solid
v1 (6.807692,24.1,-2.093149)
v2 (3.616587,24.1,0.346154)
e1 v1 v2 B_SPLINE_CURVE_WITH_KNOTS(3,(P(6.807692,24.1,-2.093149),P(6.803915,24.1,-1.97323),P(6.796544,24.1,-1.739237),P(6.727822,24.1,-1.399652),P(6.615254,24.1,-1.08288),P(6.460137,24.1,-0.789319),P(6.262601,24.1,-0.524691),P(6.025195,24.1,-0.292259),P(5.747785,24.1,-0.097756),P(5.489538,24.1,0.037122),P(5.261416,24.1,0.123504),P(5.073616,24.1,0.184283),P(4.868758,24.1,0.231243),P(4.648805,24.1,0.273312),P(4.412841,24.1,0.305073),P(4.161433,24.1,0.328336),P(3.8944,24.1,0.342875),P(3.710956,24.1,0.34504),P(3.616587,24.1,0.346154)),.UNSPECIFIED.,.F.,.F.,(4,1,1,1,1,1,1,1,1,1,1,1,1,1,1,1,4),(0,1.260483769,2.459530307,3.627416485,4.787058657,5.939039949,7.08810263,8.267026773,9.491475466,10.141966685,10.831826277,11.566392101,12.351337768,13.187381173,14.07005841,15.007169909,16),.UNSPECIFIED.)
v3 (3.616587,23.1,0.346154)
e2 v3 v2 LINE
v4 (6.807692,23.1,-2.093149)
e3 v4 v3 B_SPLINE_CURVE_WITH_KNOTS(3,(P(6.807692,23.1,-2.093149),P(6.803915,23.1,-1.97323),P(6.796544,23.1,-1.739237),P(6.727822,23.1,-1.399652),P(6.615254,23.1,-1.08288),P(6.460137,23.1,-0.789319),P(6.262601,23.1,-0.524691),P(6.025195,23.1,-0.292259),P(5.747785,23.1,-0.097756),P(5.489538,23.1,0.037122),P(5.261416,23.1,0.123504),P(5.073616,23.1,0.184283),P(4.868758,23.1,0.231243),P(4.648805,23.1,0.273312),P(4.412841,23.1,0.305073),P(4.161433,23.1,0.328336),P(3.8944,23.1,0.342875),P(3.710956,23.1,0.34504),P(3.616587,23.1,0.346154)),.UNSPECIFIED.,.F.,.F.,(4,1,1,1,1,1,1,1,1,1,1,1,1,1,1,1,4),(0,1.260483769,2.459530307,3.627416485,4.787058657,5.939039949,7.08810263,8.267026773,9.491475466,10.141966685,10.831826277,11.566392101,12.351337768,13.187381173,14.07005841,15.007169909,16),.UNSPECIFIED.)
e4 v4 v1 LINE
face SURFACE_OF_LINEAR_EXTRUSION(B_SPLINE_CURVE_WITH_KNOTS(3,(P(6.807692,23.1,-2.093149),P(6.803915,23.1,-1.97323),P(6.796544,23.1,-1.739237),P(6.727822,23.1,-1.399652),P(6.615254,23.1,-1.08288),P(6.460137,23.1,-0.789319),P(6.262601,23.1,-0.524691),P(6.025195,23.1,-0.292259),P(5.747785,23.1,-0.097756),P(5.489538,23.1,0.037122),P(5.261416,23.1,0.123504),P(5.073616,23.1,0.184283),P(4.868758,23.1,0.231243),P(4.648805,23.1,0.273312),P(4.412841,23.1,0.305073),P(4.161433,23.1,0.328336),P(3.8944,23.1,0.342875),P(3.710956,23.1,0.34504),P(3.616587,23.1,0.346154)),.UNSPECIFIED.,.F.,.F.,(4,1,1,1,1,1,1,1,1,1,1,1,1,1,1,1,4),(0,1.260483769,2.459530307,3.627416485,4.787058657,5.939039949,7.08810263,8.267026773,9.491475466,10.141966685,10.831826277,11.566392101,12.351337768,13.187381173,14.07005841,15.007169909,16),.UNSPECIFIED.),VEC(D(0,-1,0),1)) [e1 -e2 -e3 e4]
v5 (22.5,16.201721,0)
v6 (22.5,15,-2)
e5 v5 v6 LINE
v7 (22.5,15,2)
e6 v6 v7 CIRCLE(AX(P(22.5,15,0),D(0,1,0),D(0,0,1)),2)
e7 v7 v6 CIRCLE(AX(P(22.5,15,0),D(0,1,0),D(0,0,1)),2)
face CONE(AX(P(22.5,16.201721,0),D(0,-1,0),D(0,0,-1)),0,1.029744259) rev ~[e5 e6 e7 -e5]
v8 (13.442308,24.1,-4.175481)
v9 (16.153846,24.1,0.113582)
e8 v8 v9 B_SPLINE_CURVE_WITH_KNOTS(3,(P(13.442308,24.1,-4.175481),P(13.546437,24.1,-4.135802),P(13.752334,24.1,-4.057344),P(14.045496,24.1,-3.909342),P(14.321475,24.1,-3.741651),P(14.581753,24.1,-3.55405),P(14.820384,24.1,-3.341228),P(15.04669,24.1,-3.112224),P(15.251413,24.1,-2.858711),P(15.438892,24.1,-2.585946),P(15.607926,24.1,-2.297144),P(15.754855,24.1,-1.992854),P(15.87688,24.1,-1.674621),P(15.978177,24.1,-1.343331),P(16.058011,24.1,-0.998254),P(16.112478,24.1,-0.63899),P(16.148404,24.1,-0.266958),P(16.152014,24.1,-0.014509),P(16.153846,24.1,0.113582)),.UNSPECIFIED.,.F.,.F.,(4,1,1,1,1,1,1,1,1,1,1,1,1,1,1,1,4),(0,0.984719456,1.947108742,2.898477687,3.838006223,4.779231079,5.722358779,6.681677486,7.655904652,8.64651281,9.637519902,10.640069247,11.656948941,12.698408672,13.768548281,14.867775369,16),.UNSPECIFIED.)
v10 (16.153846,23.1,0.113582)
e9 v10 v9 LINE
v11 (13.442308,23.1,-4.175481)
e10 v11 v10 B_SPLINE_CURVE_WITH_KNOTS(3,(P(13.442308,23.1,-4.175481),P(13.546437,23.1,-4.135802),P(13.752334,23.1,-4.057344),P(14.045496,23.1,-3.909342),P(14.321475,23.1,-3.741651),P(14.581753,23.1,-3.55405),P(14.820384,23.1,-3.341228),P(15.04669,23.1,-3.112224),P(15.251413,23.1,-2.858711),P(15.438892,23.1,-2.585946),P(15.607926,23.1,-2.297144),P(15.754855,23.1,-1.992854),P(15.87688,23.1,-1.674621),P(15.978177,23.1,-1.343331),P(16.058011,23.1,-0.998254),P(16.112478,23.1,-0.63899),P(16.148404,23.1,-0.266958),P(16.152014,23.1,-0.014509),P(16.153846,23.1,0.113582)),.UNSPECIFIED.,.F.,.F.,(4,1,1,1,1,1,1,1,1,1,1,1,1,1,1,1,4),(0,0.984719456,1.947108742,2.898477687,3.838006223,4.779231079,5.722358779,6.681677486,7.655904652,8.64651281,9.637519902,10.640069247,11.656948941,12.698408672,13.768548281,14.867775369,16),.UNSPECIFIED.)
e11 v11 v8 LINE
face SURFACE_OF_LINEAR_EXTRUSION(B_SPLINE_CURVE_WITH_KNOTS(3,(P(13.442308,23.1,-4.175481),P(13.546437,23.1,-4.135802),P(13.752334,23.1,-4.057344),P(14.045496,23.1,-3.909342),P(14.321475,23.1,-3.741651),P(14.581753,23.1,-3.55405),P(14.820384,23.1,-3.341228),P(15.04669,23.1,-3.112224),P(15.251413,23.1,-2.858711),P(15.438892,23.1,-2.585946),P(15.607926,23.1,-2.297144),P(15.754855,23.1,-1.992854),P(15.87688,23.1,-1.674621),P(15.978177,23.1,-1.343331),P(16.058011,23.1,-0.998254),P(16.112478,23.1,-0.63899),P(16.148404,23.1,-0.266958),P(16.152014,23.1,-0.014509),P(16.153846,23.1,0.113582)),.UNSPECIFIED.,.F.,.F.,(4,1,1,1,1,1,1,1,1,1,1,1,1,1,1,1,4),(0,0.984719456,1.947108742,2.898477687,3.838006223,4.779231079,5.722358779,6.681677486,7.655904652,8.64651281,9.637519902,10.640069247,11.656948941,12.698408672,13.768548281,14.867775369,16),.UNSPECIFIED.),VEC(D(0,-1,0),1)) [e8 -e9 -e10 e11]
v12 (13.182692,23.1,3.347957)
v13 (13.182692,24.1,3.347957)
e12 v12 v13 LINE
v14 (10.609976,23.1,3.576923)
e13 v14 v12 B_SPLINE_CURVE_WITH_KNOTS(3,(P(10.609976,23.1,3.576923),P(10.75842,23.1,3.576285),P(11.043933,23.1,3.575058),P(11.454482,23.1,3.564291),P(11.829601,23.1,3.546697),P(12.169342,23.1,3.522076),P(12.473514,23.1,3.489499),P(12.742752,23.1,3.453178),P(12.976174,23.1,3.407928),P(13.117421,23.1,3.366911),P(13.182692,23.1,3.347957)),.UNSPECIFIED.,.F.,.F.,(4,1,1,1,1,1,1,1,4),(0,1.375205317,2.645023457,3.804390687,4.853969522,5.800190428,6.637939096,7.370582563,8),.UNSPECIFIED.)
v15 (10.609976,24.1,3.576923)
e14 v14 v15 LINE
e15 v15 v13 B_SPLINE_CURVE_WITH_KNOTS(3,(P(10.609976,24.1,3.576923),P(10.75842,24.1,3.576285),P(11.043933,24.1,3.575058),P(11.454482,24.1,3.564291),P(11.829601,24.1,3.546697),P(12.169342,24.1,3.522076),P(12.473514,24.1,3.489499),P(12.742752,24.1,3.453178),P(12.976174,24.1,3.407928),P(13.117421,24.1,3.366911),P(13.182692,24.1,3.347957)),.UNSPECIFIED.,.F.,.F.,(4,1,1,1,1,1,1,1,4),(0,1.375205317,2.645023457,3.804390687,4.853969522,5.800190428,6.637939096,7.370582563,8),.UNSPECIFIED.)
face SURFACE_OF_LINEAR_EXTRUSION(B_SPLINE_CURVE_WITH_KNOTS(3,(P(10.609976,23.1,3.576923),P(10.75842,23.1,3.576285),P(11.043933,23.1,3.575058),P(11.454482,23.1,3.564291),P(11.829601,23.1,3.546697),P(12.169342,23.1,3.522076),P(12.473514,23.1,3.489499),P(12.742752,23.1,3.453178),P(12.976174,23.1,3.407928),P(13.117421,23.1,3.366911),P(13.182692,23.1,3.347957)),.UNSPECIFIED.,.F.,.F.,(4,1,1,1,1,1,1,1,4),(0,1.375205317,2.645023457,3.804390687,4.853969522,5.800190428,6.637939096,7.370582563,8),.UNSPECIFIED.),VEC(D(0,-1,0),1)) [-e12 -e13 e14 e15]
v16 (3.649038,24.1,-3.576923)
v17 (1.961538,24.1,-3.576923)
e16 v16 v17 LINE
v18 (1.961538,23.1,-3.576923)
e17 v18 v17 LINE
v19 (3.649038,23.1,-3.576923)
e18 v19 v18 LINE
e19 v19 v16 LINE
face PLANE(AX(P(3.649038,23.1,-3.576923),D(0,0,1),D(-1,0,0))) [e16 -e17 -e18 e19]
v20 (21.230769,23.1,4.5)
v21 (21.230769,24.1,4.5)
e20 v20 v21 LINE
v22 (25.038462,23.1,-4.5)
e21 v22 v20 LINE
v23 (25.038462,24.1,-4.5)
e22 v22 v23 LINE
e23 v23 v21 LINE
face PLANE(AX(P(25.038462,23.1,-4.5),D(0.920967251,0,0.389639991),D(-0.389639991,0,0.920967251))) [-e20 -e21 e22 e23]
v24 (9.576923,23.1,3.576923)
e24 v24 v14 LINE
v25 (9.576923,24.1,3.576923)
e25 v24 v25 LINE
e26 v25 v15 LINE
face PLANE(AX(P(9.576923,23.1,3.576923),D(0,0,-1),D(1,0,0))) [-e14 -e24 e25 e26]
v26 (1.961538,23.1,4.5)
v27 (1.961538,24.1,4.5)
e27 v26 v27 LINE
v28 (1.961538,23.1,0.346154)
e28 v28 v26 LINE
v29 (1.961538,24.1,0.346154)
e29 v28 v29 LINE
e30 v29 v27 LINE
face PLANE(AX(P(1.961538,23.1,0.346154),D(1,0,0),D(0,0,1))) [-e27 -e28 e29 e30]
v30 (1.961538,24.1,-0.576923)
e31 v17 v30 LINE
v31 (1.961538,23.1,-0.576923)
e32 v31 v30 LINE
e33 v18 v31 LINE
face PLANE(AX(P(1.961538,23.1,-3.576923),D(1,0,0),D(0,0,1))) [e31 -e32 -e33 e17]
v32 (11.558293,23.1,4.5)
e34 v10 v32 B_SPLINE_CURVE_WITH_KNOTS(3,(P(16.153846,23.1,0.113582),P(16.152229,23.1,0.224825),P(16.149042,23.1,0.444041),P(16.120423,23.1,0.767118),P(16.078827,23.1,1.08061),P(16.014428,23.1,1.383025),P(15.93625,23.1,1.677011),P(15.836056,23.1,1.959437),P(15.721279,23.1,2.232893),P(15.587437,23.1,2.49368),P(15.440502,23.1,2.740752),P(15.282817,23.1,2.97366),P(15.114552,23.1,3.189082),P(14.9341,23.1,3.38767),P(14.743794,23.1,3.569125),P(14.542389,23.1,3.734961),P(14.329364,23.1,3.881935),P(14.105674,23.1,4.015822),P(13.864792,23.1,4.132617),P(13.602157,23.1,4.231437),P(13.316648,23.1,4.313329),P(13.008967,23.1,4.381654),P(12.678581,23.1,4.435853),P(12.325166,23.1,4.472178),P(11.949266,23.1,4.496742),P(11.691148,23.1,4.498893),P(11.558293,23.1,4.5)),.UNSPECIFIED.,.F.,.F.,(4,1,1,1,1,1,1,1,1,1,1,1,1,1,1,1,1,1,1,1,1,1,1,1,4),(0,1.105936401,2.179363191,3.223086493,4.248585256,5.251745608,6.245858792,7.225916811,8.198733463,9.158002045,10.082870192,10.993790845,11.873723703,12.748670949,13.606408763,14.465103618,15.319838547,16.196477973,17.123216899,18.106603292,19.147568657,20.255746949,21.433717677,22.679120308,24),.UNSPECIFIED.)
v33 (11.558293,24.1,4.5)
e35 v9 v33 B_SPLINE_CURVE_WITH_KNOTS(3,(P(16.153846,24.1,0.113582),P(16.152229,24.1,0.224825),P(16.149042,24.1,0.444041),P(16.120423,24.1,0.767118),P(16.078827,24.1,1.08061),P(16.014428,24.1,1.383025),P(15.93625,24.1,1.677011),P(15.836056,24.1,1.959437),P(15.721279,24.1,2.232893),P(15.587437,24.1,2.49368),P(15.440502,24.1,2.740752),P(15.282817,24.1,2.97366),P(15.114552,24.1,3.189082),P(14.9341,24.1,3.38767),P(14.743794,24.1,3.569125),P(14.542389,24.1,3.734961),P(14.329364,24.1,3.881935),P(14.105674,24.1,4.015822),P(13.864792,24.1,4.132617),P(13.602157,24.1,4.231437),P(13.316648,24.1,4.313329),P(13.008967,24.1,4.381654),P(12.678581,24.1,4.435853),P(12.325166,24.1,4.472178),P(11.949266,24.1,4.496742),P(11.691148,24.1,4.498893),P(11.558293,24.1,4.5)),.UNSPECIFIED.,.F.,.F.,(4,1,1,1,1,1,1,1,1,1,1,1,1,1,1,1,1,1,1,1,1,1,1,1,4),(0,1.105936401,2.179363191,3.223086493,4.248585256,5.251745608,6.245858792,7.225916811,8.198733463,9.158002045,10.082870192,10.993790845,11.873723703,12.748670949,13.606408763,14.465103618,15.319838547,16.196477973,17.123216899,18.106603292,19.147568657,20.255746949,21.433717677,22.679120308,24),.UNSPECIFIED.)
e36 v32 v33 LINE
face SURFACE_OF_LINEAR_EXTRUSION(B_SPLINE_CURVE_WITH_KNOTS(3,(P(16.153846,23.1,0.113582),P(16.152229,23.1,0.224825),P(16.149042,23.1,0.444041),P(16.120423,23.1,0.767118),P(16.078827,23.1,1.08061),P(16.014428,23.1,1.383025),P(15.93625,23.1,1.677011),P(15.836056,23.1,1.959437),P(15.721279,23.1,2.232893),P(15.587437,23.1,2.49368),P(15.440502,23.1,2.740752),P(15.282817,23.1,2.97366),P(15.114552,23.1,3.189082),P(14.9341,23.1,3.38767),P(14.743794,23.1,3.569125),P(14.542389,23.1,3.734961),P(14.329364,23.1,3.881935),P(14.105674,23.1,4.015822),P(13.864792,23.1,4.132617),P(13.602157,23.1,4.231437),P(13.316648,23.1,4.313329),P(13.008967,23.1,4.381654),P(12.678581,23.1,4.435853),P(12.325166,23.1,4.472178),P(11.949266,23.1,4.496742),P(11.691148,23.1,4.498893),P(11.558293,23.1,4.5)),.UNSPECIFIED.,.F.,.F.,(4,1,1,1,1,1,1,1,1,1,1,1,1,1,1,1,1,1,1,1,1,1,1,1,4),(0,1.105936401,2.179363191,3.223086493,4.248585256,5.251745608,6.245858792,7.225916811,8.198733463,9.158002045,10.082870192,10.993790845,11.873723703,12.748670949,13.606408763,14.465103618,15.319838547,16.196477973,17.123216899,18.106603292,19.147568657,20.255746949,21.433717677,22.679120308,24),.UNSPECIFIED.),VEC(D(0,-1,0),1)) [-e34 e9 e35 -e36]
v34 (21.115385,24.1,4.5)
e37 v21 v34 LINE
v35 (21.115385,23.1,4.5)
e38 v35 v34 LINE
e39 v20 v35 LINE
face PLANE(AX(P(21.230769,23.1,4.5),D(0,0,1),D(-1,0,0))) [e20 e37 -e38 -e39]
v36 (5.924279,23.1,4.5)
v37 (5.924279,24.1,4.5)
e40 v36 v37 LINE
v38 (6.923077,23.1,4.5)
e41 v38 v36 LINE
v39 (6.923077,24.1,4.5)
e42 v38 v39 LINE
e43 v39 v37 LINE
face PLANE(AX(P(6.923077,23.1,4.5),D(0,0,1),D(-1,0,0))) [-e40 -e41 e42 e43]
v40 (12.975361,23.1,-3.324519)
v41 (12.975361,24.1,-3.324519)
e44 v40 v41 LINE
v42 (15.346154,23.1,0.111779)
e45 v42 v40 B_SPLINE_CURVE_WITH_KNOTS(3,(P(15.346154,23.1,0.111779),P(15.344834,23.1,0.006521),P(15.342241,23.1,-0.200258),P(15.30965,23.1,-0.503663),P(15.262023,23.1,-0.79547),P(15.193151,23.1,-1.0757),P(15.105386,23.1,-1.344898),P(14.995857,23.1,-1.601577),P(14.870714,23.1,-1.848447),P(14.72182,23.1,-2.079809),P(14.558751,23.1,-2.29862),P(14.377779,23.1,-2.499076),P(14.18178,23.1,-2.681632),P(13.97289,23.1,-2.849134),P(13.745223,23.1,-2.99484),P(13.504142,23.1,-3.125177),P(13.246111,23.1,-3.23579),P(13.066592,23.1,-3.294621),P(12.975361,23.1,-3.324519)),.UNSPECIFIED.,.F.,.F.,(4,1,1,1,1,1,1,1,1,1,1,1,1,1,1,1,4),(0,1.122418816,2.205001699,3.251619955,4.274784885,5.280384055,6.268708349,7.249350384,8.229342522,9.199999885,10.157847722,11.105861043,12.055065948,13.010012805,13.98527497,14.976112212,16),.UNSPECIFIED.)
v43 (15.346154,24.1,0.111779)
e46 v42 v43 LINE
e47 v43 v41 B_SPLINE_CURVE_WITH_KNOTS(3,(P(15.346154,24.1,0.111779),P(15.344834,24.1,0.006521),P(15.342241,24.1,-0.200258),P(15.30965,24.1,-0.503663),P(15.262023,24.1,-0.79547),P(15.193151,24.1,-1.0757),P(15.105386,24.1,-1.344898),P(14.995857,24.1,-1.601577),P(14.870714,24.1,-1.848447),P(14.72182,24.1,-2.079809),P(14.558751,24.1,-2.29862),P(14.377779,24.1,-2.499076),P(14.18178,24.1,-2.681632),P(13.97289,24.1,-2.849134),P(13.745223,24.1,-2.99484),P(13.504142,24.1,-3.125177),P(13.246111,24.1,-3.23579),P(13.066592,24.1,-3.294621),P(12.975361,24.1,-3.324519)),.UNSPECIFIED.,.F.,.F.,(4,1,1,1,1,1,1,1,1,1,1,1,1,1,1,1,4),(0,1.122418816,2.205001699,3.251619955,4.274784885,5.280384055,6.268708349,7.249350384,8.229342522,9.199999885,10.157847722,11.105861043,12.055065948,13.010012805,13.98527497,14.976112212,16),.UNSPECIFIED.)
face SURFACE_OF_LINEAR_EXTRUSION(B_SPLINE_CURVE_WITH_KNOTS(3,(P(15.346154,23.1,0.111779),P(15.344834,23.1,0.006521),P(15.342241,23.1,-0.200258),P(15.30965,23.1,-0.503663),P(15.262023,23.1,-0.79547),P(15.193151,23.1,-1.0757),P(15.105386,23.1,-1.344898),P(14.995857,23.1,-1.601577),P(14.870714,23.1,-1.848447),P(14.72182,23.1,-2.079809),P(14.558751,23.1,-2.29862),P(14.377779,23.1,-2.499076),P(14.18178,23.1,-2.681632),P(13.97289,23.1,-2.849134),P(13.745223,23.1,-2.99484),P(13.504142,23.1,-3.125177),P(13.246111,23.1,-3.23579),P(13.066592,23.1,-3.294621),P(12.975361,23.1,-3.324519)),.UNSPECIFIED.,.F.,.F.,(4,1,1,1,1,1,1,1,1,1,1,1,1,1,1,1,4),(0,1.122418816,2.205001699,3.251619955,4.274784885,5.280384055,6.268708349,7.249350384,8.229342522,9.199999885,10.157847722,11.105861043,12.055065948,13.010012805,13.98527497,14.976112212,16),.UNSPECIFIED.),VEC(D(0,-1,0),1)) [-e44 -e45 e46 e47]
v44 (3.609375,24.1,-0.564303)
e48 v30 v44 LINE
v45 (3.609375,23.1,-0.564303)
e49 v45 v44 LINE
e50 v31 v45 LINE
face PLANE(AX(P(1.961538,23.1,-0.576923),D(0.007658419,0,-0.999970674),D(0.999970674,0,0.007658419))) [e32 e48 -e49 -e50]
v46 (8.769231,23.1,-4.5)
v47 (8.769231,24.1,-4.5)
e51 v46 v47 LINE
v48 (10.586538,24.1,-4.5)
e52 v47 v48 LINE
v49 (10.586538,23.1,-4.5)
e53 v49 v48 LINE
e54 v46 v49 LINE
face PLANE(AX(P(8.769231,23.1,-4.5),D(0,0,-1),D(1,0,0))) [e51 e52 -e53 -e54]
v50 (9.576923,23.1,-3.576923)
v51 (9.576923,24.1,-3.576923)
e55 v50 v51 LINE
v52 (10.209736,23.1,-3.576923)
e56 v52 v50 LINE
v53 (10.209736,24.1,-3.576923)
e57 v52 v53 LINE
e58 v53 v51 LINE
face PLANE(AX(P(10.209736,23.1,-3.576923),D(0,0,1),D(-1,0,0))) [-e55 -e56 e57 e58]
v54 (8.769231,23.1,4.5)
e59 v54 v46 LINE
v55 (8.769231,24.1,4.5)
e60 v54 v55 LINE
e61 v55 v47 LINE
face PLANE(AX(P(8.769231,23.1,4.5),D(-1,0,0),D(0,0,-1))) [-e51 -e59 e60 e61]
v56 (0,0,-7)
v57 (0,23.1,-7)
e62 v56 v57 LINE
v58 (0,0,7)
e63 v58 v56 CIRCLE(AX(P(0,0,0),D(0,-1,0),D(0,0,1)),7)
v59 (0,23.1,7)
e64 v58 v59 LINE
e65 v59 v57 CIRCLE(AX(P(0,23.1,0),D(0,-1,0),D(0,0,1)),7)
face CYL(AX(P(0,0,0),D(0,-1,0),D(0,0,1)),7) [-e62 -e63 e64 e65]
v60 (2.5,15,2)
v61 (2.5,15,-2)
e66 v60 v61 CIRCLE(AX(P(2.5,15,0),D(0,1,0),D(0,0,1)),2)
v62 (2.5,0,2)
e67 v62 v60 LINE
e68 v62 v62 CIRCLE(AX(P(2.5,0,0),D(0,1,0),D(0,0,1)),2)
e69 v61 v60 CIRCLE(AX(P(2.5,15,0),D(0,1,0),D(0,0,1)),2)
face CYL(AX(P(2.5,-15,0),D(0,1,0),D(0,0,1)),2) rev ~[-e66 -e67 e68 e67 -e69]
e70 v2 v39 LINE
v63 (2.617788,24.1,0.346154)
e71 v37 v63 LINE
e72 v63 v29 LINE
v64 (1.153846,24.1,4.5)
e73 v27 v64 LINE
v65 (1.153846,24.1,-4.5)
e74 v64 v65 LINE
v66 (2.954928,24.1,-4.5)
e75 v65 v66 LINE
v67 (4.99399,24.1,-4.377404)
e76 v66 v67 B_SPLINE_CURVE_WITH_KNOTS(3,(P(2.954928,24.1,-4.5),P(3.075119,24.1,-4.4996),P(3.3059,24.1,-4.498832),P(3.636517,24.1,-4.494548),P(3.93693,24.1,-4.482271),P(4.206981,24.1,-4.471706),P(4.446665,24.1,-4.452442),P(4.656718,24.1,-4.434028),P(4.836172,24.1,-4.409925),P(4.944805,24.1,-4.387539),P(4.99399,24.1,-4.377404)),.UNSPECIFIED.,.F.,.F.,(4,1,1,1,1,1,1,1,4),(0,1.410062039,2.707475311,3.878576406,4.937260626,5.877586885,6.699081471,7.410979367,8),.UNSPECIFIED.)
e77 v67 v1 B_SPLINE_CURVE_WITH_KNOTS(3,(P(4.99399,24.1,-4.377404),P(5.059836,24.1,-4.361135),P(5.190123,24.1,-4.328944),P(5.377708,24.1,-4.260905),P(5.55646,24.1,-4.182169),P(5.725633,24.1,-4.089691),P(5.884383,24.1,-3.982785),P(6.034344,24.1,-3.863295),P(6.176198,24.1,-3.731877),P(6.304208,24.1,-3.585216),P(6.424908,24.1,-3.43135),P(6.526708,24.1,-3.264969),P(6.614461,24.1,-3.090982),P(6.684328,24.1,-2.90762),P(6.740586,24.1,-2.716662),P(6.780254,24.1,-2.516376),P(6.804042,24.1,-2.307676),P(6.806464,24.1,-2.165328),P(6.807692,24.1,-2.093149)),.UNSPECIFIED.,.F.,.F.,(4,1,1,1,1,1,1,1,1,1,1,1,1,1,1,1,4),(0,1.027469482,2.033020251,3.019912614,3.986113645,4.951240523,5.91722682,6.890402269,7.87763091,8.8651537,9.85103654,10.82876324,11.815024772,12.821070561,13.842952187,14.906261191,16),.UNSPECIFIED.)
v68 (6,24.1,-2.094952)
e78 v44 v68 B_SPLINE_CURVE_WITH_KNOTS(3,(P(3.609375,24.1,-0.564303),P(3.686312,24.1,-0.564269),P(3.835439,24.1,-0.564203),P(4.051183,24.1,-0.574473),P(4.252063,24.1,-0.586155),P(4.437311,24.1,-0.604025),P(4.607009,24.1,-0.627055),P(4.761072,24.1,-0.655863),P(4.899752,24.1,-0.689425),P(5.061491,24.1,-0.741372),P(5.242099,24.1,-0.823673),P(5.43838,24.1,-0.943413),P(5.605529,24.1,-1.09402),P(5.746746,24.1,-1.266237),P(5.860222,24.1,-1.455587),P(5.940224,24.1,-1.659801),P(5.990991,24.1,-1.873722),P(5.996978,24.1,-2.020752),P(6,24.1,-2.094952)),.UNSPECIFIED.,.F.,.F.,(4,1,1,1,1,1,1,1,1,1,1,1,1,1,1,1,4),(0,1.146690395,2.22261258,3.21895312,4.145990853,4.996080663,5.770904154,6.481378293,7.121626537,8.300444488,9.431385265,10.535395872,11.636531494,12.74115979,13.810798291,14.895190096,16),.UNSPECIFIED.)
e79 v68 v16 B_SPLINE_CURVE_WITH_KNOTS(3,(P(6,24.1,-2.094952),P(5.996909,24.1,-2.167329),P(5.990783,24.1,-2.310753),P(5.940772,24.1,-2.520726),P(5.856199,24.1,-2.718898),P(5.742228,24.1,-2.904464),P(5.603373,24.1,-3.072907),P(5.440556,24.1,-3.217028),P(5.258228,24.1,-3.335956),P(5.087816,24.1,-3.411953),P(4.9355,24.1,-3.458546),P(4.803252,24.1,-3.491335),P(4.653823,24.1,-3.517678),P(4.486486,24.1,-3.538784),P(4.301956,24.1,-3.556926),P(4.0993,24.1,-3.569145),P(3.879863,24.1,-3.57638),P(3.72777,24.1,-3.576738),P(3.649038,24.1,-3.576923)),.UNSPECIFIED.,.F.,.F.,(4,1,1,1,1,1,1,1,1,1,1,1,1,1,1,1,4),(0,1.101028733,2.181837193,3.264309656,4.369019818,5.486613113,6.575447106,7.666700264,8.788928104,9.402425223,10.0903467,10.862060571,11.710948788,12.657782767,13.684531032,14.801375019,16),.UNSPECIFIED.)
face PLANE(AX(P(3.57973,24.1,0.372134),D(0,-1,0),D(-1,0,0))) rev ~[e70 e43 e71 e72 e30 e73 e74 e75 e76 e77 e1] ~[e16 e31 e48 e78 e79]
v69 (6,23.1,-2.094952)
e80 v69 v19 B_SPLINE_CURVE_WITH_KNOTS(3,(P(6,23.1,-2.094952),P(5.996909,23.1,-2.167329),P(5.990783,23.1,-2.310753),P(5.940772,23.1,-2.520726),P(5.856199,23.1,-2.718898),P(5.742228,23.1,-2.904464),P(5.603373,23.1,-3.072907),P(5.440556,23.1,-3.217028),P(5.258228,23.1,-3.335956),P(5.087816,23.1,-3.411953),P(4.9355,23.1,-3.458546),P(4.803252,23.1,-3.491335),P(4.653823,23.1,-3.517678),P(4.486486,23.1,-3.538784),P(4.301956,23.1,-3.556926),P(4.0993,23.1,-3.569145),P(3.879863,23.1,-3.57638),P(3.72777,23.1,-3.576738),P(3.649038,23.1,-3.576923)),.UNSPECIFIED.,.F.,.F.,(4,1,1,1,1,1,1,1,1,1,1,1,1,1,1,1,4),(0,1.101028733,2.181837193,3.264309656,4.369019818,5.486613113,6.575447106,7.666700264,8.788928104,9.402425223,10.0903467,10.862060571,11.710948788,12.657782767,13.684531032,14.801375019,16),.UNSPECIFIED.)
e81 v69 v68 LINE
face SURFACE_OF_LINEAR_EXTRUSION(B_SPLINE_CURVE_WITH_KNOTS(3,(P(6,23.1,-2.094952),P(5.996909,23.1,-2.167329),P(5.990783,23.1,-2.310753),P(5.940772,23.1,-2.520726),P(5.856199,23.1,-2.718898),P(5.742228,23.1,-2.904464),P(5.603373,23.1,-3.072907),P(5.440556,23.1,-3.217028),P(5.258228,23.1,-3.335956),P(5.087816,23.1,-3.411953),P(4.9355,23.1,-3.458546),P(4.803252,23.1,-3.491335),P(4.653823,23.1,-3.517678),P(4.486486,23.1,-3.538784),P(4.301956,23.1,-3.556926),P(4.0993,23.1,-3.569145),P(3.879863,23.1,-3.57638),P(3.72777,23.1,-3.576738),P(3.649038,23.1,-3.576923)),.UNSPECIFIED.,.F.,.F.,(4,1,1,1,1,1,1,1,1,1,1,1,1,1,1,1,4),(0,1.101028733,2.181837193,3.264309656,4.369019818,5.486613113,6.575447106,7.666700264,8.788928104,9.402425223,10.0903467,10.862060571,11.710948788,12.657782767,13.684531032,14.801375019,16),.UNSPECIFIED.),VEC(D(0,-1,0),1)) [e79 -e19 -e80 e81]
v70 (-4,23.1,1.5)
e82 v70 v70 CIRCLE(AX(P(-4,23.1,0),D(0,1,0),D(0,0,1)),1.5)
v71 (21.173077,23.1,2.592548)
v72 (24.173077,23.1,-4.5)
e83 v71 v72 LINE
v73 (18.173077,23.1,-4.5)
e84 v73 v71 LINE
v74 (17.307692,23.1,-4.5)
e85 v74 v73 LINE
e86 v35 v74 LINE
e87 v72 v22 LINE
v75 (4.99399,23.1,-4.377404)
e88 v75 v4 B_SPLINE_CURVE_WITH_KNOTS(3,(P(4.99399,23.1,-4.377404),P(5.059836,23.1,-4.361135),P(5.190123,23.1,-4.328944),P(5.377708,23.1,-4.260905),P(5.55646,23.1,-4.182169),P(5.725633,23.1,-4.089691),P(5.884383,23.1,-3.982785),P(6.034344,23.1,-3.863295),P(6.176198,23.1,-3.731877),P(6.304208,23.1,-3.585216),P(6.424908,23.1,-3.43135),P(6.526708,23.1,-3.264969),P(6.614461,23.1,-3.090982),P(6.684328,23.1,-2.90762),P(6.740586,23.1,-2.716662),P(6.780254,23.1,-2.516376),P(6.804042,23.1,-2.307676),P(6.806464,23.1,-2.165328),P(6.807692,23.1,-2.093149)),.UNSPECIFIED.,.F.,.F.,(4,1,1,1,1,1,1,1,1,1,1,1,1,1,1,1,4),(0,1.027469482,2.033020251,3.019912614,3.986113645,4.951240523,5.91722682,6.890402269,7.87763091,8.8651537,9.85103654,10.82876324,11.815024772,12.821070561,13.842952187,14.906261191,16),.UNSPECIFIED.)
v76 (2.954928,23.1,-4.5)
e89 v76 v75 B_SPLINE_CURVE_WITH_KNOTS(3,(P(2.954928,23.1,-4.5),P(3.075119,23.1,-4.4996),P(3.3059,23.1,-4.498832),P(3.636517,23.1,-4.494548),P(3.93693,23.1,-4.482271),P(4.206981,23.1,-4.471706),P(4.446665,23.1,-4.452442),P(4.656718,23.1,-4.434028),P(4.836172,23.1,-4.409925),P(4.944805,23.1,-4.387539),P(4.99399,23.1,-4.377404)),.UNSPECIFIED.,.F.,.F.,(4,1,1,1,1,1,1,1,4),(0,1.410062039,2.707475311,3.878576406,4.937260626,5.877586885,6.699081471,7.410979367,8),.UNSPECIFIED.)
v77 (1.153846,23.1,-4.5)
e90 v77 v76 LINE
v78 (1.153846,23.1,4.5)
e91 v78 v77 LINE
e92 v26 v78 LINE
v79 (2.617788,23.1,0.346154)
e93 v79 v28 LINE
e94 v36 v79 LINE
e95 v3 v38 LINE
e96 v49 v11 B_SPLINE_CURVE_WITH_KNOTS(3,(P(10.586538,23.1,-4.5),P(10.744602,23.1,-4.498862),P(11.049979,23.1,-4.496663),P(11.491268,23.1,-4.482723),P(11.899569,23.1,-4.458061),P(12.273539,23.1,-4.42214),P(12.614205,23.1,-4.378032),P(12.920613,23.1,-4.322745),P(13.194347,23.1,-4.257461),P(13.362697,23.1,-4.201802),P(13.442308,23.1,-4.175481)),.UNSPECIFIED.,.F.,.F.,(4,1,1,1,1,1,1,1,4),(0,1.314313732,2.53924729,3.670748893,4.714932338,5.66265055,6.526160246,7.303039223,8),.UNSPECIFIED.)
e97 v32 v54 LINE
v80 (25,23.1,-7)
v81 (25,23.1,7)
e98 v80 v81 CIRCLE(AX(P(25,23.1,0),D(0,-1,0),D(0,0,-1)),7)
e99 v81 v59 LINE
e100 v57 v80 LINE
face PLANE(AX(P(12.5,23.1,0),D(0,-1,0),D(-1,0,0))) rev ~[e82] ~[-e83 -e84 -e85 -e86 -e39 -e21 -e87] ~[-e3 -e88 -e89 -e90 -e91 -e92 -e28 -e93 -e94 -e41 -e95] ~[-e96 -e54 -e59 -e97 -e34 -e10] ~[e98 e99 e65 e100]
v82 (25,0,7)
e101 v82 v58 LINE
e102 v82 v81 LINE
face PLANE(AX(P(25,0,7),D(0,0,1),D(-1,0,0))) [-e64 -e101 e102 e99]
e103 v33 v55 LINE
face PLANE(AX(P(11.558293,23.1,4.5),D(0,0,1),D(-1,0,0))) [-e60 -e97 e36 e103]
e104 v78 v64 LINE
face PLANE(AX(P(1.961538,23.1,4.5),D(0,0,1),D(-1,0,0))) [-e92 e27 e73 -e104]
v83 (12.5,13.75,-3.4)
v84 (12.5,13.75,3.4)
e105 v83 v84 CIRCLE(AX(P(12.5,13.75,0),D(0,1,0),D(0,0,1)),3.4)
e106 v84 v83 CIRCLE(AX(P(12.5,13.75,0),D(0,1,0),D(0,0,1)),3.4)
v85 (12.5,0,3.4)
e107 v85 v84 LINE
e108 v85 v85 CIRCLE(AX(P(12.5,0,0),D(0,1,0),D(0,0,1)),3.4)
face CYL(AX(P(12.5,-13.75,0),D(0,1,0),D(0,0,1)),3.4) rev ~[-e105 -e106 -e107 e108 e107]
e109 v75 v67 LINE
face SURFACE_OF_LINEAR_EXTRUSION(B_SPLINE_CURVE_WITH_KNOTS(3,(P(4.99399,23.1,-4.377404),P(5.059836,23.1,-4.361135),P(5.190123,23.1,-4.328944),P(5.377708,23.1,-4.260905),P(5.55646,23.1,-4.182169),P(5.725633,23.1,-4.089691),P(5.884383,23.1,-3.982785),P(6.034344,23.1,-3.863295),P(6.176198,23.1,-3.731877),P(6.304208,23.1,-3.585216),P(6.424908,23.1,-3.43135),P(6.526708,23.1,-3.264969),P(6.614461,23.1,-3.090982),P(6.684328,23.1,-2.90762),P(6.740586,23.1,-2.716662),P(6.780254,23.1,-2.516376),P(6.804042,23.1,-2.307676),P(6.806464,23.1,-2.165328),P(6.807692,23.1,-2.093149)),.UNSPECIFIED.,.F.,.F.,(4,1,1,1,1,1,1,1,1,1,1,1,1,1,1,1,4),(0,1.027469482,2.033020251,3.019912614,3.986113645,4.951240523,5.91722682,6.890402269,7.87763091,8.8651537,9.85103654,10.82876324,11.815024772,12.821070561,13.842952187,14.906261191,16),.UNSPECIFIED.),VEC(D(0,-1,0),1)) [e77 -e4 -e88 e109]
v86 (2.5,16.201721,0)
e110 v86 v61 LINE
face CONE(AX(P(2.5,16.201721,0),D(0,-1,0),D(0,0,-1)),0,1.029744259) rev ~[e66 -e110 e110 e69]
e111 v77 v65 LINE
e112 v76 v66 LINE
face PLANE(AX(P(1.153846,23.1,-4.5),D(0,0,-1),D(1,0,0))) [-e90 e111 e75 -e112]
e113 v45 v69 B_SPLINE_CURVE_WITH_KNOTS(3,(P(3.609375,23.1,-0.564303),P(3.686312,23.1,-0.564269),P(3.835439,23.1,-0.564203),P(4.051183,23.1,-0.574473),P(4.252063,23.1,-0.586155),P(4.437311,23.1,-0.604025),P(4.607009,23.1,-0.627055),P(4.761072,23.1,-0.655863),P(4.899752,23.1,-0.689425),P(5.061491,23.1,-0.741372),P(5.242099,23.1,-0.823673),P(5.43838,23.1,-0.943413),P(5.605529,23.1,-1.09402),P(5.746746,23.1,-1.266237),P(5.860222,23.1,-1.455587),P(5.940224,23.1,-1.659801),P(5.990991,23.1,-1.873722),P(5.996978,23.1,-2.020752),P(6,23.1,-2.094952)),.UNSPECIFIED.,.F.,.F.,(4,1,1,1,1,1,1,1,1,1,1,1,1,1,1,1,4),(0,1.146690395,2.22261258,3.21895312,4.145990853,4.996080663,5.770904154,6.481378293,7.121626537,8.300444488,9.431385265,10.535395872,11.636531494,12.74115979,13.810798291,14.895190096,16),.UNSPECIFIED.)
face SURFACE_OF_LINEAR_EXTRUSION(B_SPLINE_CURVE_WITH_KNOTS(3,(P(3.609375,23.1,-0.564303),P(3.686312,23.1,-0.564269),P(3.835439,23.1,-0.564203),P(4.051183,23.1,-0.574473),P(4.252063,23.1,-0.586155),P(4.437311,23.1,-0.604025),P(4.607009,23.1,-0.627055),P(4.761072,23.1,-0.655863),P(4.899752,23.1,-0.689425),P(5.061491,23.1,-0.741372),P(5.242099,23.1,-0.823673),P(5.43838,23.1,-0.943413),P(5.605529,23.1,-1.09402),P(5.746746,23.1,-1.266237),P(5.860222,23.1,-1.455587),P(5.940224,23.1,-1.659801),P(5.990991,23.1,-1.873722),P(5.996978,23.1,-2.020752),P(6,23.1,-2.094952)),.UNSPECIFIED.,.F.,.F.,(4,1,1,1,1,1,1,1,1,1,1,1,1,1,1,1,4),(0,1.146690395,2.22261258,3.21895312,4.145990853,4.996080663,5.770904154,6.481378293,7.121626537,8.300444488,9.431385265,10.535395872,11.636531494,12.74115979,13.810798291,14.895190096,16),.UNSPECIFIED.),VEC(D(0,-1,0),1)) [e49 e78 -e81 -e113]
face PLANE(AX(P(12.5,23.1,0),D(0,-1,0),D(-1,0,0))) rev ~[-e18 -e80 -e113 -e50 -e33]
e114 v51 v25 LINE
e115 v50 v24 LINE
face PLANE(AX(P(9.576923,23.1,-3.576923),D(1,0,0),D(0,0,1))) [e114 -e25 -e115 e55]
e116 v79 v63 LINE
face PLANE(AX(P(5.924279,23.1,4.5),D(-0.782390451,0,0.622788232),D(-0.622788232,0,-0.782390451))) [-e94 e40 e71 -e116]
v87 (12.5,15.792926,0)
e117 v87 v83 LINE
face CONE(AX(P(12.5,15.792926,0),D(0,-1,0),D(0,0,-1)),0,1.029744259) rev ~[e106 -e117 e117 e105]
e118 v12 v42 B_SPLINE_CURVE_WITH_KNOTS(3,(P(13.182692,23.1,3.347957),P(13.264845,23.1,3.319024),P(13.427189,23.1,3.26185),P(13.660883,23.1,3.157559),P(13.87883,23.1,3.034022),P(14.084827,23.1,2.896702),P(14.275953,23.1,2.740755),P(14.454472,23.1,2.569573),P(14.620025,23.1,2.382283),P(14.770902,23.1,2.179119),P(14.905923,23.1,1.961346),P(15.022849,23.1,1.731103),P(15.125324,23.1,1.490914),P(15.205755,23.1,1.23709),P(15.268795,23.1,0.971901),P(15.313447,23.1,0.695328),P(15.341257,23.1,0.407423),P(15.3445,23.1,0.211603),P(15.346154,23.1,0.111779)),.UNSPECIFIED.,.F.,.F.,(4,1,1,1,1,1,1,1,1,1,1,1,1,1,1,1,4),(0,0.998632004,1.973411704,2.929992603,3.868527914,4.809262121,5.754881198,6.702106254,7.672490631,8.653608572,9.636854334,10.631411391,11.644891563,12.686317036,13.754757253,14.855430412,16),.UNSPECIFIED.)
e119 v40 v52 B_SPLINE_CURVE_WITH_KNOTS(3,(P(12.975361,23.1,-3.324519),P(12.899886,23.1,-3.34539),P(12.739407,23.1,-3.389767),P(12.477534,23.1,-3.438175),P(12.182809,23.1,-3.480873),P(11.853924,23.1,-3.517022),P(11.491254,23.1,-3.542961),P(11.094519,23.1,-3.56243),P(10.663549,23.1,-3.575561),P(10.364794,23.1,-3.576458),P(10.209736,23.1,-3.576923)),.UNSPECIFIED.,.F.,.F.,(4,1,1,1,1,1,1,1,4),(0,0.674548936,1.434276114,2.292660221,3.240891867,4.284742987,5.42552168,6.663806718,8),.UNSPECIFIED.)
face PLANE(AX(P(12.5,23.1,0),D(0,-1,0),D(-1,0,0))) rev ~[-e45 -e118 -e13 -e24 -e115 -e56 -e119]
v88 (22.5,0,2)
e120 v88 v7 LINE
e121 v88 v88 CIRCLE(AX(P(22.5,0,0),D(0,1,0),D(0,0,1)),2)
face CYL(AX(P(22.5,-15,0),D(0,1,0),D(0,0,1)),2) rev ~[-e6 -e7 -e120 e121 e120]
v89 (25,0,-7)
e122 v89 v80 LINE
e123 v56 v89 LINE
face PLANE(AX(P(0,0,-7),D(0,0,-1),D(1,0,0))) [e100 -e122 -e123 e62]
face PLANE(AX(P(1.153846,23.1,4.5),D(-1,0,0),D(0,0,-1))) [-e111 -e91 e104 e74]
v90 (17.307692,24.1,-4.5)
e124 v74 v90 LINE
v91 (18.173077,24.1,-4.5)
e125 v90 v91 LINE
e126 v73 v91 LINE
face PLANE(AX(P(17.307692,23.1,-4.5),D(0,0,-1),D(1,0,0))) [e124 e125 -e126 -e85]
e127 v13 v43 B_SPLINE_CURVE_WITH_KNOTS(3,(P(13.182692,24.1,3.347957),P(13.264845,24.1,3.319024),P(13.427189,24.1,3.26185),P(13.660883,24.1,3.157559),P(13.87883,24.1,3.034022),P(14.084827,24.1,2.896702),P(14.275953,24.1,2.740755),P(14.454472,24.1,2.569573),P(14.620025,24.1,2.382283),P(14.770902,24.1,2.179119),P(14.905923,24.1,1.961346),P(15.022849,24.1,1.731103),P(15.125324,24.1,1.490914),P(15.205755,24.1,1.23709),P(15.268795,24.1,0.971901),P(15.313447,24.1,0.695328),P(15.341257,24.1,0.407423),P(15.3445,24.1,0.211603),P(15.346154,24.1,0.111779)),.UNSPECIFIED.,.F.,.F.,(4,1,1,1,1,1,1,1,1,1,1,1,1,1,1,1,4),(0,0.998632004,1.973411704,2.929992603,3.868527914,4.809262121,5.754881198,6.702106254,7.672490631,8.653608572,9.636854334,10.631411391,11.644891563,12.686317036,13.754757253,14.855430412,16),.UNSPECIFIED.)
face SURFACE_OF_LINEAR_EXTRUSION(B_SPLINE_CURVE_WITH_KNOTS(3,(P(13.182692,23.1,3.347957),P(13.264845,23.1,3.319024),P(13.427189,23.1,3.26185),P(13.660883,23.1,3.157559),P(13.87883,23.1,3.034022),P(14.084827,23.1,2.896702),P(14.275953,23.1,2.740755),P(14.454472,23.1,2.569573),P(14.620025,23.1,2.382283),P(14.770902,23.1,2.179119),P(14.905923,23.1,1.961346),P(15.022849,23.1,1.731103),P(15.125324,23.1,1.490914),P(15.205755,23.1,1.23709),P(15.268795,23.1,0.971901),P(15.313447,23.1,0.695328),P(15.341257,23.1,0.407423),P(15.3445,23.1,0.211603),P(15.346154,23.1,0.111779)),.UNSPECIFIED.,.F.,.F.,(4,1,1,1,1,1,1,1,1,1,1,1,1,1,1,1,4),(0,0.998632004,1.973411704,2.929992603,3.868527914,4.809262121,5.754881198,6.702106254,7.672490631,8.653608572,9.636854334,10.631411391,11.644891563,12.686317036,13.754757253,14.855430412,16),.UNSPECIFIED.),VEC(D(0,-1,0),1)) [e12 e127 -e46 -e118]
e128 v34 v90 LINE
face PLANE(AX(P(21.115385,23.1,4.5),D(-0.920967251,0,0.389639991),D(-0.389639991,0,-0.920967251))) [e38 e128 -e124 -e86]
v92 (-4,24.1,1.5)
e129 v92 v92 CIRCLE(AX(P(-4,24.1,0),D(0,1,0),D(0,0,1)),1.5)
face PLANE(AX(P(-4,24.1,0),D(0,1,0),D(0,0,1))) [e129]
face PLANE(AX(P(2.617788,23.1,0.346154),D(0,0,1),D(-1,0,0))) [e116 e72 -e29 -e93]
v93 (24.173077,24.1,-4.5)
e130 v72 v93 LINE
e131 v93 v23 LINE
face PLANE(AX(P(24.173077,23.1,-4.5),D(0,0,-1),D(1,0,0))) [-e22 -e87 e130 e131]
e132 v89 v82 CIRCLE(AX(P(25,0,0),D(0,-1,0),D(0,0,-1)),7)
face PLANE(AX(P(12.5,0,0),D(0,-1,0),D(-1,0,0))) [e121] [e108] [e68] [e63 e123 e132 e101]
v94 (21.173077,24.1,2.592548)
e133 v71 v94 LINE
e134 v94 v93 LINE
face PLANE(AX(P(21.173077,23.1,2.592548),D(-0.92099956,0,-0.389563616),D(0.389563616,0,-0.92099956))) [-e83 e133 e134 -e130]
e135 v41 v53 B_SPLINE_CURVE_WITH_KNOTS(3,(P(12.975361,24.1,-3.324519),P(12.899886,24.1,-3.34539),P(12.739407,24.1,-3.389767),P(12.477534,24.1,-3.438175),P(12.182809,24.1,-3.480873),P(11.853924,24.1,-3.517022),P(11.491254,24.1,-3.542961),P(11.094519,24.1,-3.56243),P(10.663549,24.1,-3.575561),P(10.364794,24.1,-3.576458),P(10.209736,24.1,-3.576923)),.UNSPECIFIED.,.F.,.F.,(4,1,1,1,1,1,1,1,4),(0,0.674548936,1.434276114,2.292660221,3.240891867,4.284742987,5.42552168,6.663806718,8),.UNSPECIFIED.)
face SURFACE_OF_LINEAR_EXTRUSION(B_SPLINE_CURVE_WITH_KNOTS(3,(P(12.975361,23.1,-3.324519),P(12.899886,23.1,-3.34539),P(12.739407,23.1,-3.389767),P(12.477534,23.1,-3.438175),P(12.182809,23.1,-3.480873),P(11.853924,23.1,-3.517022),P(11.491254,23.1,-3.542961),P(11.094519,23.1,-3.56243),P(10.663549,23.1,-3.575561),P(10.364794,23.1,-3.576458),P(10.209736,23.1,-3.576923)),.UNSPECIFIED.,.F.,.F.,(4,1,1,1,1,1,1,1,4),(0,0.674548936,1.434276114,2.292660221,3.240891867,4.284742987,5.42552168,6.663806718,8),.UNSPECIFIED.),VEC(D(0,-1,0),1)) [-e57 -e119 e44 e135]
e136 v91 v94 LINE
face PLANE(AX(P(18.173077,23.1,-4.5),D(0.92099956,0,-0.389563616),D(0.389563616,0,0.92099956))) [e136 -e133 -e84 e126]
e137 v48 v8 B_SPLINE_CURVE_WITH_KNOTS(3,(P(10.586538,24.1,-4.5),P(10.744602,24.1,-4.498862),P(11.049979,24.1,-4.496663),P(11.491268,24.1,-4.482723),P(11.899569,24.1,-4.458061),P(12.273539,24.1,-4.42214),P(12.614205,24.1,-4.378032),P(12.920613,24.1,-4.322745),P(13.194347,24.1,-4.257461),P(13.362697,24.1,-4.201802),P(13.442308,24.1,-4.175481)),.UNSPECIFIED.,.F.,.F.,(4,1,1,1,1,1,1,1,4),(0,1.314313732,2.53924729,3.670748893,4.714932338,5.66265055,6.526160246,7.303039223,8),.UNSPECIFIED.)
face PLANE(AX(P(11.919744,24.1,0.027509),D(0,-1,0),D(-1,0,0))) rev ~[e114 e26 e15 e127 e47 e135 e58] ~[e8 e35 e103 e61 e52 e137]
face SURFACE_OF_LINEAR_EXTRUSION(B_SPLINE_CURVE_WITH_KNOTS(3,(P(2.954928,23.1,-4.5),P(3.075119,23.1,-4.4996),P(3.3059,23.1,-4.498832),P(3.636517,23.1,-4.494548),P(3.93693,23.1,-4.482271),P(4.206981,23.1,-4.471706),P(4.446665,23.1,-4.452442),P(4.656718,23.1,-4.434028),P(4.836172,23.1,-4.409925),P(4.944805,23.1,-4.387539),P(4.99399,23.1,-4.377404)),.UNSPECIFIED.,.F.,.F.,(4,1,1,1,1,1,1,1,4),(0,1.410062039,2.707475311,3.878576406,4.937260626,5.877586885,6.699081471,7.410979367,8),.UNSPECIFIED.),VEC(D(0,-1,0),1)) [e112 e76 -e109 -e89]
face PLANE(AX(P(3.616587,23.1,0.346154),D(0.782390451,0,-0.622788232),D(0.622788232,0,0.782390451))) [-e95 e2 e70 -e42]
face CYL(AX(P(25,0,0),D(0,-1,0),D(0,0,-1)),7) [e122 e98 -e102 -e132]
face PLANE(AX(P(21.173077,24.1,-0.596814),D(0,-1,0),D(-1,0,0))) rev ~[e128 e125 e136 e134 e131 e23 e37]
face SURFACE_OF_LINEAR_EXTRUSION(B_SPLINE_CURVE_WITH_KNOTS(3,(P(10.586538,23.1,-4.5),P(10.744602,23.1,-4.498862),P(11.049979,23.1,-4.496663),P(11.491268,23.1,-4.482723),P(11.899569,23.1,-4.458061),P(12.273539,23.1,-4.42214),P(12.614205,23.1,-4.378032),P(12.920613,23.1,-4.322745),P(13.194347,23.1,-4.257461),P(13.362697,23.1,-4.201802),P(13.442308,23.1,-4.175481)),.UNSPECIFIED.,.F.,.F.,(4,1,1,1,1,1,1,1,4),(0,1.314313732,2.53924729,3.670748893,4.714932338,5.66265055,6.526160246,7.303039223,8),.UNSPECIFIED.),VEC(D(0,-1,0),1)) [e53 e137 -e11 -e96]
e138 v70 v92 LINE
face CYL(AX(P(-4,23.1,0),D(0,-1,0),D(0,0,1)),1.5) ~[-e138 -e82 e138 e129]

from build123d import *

# Parameters (mm, degrees)
BOSS_EXTRUDE1_DEPTH       = 23.1
BOSS_EXTRUDE3_DEPTH       = 1
SKETCH8_R                 = 1.5
BOSS_EXTRUDE4_DEPTH       = 1
M8_TAPPED_HOLE1_D         = 6.8
M8_TAPPED_HOLE1_DEPTH     = 13.75
M8_TAPPED_HOLE1_TIP       = 2.042926105
F_4_0MM_DOWEL_HOLE1_D     = 4
F_4_0MM_DOWEL_HOLE1_DEPTH = 15
F_4_0MM_DOWEL_HOLE1_TIP   = 1.201721238
F_4_0MM_DOWEL_HOLE2_D     = 4
F_4_0MM_DOWEL_HOLE2_DEPTH = 15
F_4_0MM_DOWEL_HOLE2_TIP   = 1.201721238


with BuildPart() as part:
    # Sketch1 → Boss-Extrude1 (new body)
    with BuildSketch(Plane(origin=(0, 0, 0), x_dir=(1, 0, 0), z_dir=(0, 1, 0))):
        with BuildLine():
            Line((0, 7), (25, 7))
            ThreePointArc((25, 7), (32, 0), (25, -7))
            Line((25, -7), (0, -7))
            ThreePointArc((0, -7), (-7, 0), (0, 7))
        make_face()
    extrude(amount=BOSS_EXTRUDE1_DEPTH)

    # Sketch6 → Boss-Extrude3 (add)
    # profile 1 of 3: a face of its own
    with BuildSketch(Plane(origin=(0, 23.1, 0), x_dir=(1, 0, 0), z_dir=(0, 1, 0))):
        with BuildLine():
            Line((1.153846154, 4.5), (2.954927885, 4.5))
            add(Edge.make_bspline(
                [(2.954927885, 4.5), (3.075119358, 4.499599922), (3.305900301, 4.498831727), (3.636517282, 4.494548337), (3.936929817, 4.482271422), (4.206980832, 4.471706493), (4.446665374, 4.452441501), (4.656718407, 4.434028409), (4.836172486, 4.40992471), (4.944804675, 4.387539336), (4.993990385, 4.377403846)],
                knots=[0, 0, 0, 0, 1.410062039, 2.707475311, 3.878576406, 4.937260626, 5.877586885, 6.699081471, 7.410979367, 8, 8, 8, 8], degree=3))
            add(Edge.make_bspline(
                [(4.993990385, 4.377403846), (5.05983599, 4.361135021), (5.190122534, 4.328944429), (5.377708418, 4.260905455), (5.556459537, 4.182169278), (5.725633371, 4.08969114), (5.884382548, 3.982784563), (6.034343919, 3.863295106), (6.176197967, 3.731876576), (6.304207874, 3.585215555), (6.424908292, 3.431350245), (6.526707617, 3.264969156), (6.614461422, 3.090982371), (6.684328466, 2.907620439), (6.740586112, 2.716661597), (6.780253585, 2.51637612), (6.804042353, 2.30767647), (6.806464267, 2.165327562), (6.807692308, 2.093149038)],
                knots=[0, 0, 0, 0, 1.027469482, 2.033020251, 3.019912614, 3.986113645, 4.951240523, 5.91722682, 6.890402269, 7.87763091, 8.8651537, 9.85103654, 10.82876324, 11.815024772, 12.821070561, 13.842952187, 14.906261191, 16, 16, 16, 16], degree=3))
            add(Edge.make_bspline(
                [(6.807692308, 2.093149038), (6.803914884, 1.973230198), (6.796544152, 1.739237481), (6.727822457, 1.399652357), (6.615254263, 1.082879834), (6.460137234, 0.789318765), (6.26260144, 0.524691391), (6.025194834, 0.292258792), (5.747784976, 0.097756159), (5.489538163, -0.037122481), (5.261415936, -0.123504247), (5.073615988, -0.184283455), (4.868758046, -0.231242794), (4.6488049, -0.273311705), (4.412841215, -0.305073204), (4.161432542, -0.328335876), (3.894399581, -0.342874858), (3.710956259, -0.345040014), (3.616586538, -0.346153846)],
                knots=[0, 0, 0, 0, 1.260483769, 2.459530307, 3.627416485, 4.787058657, 5.939039949, 7.08810263, 8.267026773, 9.491475466, 10.141966685, 10.831826277, 11.566392101, 12.351337768, 13.187381173, 14.07005841, 15.007169909, 16, 16, 16, 16], degree=3))
            Line((3.616586538, -0.346153846), (6.923076923, -4.5))
            Line((6.923076923, -4.5), (5.924278846, -4.5))
            Line((5.924278846, -4.5), (2.617788462, -0.346153846))
            Line((2.617788462, -0.346153846), (1.961538462, -0.346153846))
            Line((1.961538462, -0.346153846), (1.961538462, -4.5))
            Line((1.961538462, -4.5), (1.153846154, -4.5))
            Line((1.153846154, -4.5), (1.153846154, 4.5))
        make_face()
        with BuildLine():
            Line((1.961538462, 3.576923077), (1.961538462, 0.576923077))
            Line((1.961538462, 0.576923077), (3.609375, 0.564302885))
            add(Edge.make_bspline(
                [(3.609375, 0.564302885), (3.686312243, 0.564268848), (3.835438533, 0.564202874), (4.051183099, 0.574472584), (4.252063387, 0.586155403), (4.437311035, 0.604025148), (4.6070088, 0.627055047), (4.761071863, 0.655862721), (4.89975171, 0.689425168), (5.061490809, 0.741372205), (5.242099033, 0.823673395), (5.43837993, 0.943413249), (5.605528798, 1.094019555), (5.746746158, 1.266237014), (5.860221839, 1.455587368), (5.940224265, 1.659800889), (5.990990545, 1.873722141), (5.996978233, 2.020751561), (6, 2.094951923)],
                knots=[0, 0, 0, 0, 1.146690395, 2.22261258, 3.21895312, 4.145990853, 4.996080663, 5.770904154, 6.481378293, 7.121626537, 8.300444488, 9.431385265, 10.535395872, 11.636531494, 12.74115979, 13.810798291, 14.895190096, 16, 16, 16, 16], degree=3))
            add(Edge.make_bspline(
                [(6, 2.094951923), (5.996908831, 2.167328827), (5.990783263, 2.310753441), (5.940772144, 2.520725781), (5.856199449, 2.718897939), (5.742227981, 2.904463757), (5.603373011, 3.072907078), (5.440555778, 3.217028329), (5.258228133, 3.335955524), (5.08781648, 3.411952502), (4.935499934, 3.458546411), (4.803252237, 3.491335118), (4.653822723, 3.517678038), (4.486485829, 3.53878448), (4.301955921, 3.556925765), (4.099299961, 3.569144625), (3.879862526, 3.576380275), (3.727770418, 3.576737932), (3.649038462, 3.576923077)],
                knots=[0, 0, 0, 0, 1.101028733, 2.181837193, 3.264309656, 4.369019818, 5.486613113, 6.575447106, 7.666700264, 8.788928104, 9.402425223, 10.0903467, 10.862060571, 11.710948788, 12.657782767, 13.684531032, 14.801375019, 16, 16, 16, 16], degree=3))
            Line((3.649038462, 3.576923077), (1.961538462, 3.576923077))
        make_face(mode=Mode.SUBTRACT)
    # profile 2 of 3: a face of its own
    with BuildSketch(Plane(origin=(0, 23.1, 0), x_dir=(1, 0, 0), z_dir=(0, 1, 0))):
        with BuildLine():
            Line((8.769230769, -4.5), (8.769230769, 4.5))
            Line((8.769230769, 4.5), (10.586538462, 4.5))
            add(Edge.make_bspline(
                [(10.586538462, 4.5), (10.744601574, 4.498861963), (11.049978685, 4.496663281), (11.491267835, 4.482722561), (11.899568939, 4.458061363), (12.273539148, 4.422139724), (12.614205122, 4.378031924), (12.920612971, 4.32274517), (13.194347053, 4.257461303), (13.362697043, 4.201801574), (13.442307692, 4.175480769)],
                knots=[0, 0, 0, 0, 1.314313732, 2.53924729, 3.670748893, 4.714932338, 5.66265055, 6.526160246, 7.303039223, 8, 8, 8, 8], degree=3))
            add(Edge.make_bspline(
                [(13.442307692, 4.175480769), (13.546437022, 4.135801812), (13.752334374, 4.057343684), (14.045495546, 3.909341767), (14.321475051, 3.741650933), (14.581752852, 3.554050144), (14.820383548, 3.341227533), (15.046689568, 3.112223599), (15.251413144, 2.858710724), (15.438891619, 2.585946469), (15.607926172, 2.297144049), (15.754855435, 1.99285377), (15.87687999, 1.674620949), (15.978176858, 1.343330568), (16.058010606, 0.998254168), (16.11247843, 0.638989941), (16.148403833, 0.26695774), (16.152014251, 0.014509119), (16.153846154, -0.113581731)],
                knots=[0, 0, 0, 0, 0.984719456, 1.947108742, 2.898477687, 3.838006223, 4.779231079, 5.722358779, 6.681677486, 7.655904652, 8.64651281, 9.637519902, 10.640069247, 11.656948941, 12.698408672, 13.768548281, 14.867775369, 16, 16, 16, 16], degree=3))
            add(Edge.make_bspline(
                [(16.153846154, -0.113581731), (16.152228809, -0.224824915), (16.149041662, -0.44404123), (16.120423421, -0.767117819), (16.078827169, -1.080609859), (16.014427804, -1.383024516), (15.936249912, -1.677011362), (15.83605638, -1.959437134), (15.72127939, -2.232892643), (15.587436845, -2.493680439), (15.440501855, -2.740751967), (15.282817372, -2.973660468), (15.114551584, -3.189082467), (14.934099957, -3.387670327), (14.7437944, -3.569124671), (14.542388979, -3.734961282), (14.329363991, -3.88193528), (14.105673561, -4.01582213), (13.864792086, -4.13261733), (13.602157001, -4.231437355), (13.316648258, -4.313328652), (13.008966655, -4.381653812), (12.678580569, -4.435852591), (12.325166085, -4.4721776), (11.949266198, -4.496742284), (11.691148087, -4.49889301), (11.558293269, -4.5)],
                knots=[0, 0, 0, 0, 1.105936401, 2.179363191, 3.223086493, 4.248585256, 5.251745608, 6.245858792, 7.225916811, 8.198733463, 9.158002045, 10.082870192, 10.993790845, 11.873723703, 12.748670949, 13.606408763, 14.465103618, 15.319838547, 16.196477973, 17.123216899, 18.106603292, 19.147568657, 20.255746949, 21.433717677, 22.679120308, 24, 24, 24, 24], degree=3))
            Line((11.558293269, -4.5), (8.769230769, -4.5))
        make_face()
        with BuildLine():
            Line((9.576923077, -3.576923077), (10.609975962, -3.576923077))
            add(Edge.make_bspline(
                [(10.609975962, -3.576923077), (10.758420343, -3.576285115), (11.043933254, -3.57505808), (11.45448239, -3.564290986), (11.829600838, -3.546697433), (12.169341862, -3.522075804), (12.473513639, -3.489499365), (12.742751853, -3.453178187), (12.976173945, -3.407927599), (13.117421069, -3.366910846), (13.182692308, -3.347956731)],
                knots=[0, 0, 0, 0, 1.375205317, 2.645023457, 3.804390687, 4.853969522, 5.800190428, 6.637939096, 7.370582563, 8, 8, 8, 8], degree=3))
            add(Edge.make_bspline(
                [(13.182692308, -3.347956731), (13.264845239, -3.319024152), (13.42718888, -3.26185005), (13.660883099, -3.157558921), (13.878829682, -3.03402217), (14.08482689, -2.896702037), (14.275952576, -2.740755175), (14.454471732, -2.569572632), (14.620024935, -2.382283211), (14.770901727, -2.179119367), (14.90592308, -1.961345606), (15.022849099, -1.731102891), (15.125324466, -1.490913951), (15.205755133, -1.2370904), (15.268795206, -0.971901392), (15.313447261, -0.695328273), (15.341256552, -0.407422691), (15.344500276, -0.211602943), (15.346153846, -0.111778846)],
                knots=[0, 0, 0, 0, 0.998632004, 1.973411704, 2.929992603, 3.868527914, 4.809262121, 5.754881198, 6.702106254, 7.672490631, 8.653608572, 9.636854334, 10.631411391, 11.644891563, 12.686317036, 13.754757253, 14.855430412, 16, 16, 16, 16], degree=3))
            add(Edge.make_bspline(
                [(15.346153846, -0.111778846), (15.344833964, -0.006521325), (15.342241045, 0.200258006), (15.309649961, 0.503662651), (15.262023104, 0.795470038), (15.193150768, 1.075699683), (15.105385651, 1.344898303), (14.995856573, 1.601577044), (14.870713837, 1.848446706), (14.721819543, 2.079809361), (14.558750874, 2.298620213), (14.377779184, 2.49907571), (14.181779657, 2.681632483), (13.972890044, 2.849133572), (13.745223217, 2.994840167), (13.504142298, 3.125177347), (13.246110572, 3.235789639), (13.066592211, 3.294621001), (12.975360577, 3.324519231)],
                knots=[0, 0, 0, 0, 1.122418816, 2.205001699, 3.251619955, 4.274784885, 5.280384055, 6.268708349, 7.249350384, 8.229342522, 9.199999885, 10.157847722, 11.105861043, 12.055065948, 13.010012805, 13.98527497, 14.976112212, 16, 16, 16, 16], degree=3))
            add(Edge.make_bspline(
                [(12.975360577, 3.324519231), (12.899886201, 3.345390045), (12.739406968, 3.389767123), (12.477534061, 3.438175224), (12.182809391, 3.480872507), (11.853924445, 3.517021751), (11.491254122, 3.542960578), (11.094519496, 3.562429672), (10.663549084, 3.575561013), (10.364793997, 3.576457689), (10.209735577, 3.576923077)],
                knots=[0, 0, 0, 0, 0.674548936, 1.434276114, 2.292660221, 3.240891867, 4.284742987, 5.42552168, 6.663806718, 8, 8, 8, 8], degree=3))
            Line((10.209735577, 3.576923077), (9.576923077, 3.576923077))
            Line((9.576923077, 3.576923077), (9.576923077, -3.576923077))
        make_face(mode=Mode.SUBTRACT)
    # profile 3 of 3: a face of its own
    with BuildSketch(Plane(origin=(0, 23.1, 0), x_dir=(1, 0, 0), z_dir=(0, 1, 0))):
        Polygon((17.307692308, 4.5), (18.173076923, 4.5), (21.173076923, -2.592548077), (24.173076923, 4.5), (25.038461538, 4.5), (21.230769231, -4.5), (21.115384615, -4.5), align=None)
    extrude(amount=BOSS_EXTRUDE3_DEPTH)

    # Sketch8 → Boss-Extrude4 (add)
    with BuildSketch(Plane(origin=(0, 23.1, 0), x_dir=(1, 0, 0), z_dir=(0, 1, 0))):
        with Locations(Location((-4, 0, 0), (0, 0, 270))):
            Circle(SKETCH8_R)
    extrude(amount=BOSS_EXTRUDE4_DEPTH)

    # M8 Tapped Hole1
    with Locations(Plane(origin=(12.5, 0, 0), x_dir=(0, 0, -1), z_dir=(0, -1, 0))):
        with Locations((0, 0)):
            Hole(M8_TAPPED_HOLE1_D / 2, depth=M8_TAPPED_HOLE1_DEPTH)
            with Locations((0, 0, -(M8_TAPPED_HOLE1_DEPTH + M8_TAPPED_HOLE1_TIP / 2))):  # 118° drill point
                Cone(0, M8_TAPPED_HOLE1_D / 2, M8_TAPPED_HOLE1_TIP, mode=Mode.SUBTRACT)

    # Ø4.0mm Dowel Hole1
    with Locations(Plane(origin=(2.5, 0, 0), x_dir=(0, 0, -1), z_dir=(0, -1, 0))):
        with Locations((0, 0)):
            Hole(F_4_0MM_DOWEL_HOLE1_D / 2, depth=F_4_0MM_DOWEL_HOLE1_DEPTH)
            with Locations((0, 0, -(F_4_0MM_DOWEL_HOLE1_DEPTH + F_4_0MM_DOWEL_HOLE1_TIP / 2))):  # 118° drill point
                Cone(0, F_4_0MM_DOWEL_HOLE1_D / 2, F_4_0MM_DOWEL_HOLE1_TIP, mode=Mode.SUBTRACT)

    # Ø4.0mm Dowel Hole2
    with Locations(Plane(origin=(22.5, 0, 0), x_dir=(0, 0, -1), z_dir=(0, -1, 0))):
        with Locations((0, 0)):
            Hole(F_4_0MM_DOWEL_HOLE2_D / 2, depth=F_4_0MM_DOWEL_HOLE2_DEPTH)
            with Locations((0, 0, -(F_4_0MM_DOWEL_HOLE2_DEPTH + F_4_0MM_DOWEL_HOLE2_TIP / 2))):  # 118° drill point
                Cone(0, F_4_0MM_DOWEL_HOLE2_D / 2, F_4_0MM_DOWEL_HOLE2_TIP, mode=Mode.SUBTRACT)


solid = part.part
